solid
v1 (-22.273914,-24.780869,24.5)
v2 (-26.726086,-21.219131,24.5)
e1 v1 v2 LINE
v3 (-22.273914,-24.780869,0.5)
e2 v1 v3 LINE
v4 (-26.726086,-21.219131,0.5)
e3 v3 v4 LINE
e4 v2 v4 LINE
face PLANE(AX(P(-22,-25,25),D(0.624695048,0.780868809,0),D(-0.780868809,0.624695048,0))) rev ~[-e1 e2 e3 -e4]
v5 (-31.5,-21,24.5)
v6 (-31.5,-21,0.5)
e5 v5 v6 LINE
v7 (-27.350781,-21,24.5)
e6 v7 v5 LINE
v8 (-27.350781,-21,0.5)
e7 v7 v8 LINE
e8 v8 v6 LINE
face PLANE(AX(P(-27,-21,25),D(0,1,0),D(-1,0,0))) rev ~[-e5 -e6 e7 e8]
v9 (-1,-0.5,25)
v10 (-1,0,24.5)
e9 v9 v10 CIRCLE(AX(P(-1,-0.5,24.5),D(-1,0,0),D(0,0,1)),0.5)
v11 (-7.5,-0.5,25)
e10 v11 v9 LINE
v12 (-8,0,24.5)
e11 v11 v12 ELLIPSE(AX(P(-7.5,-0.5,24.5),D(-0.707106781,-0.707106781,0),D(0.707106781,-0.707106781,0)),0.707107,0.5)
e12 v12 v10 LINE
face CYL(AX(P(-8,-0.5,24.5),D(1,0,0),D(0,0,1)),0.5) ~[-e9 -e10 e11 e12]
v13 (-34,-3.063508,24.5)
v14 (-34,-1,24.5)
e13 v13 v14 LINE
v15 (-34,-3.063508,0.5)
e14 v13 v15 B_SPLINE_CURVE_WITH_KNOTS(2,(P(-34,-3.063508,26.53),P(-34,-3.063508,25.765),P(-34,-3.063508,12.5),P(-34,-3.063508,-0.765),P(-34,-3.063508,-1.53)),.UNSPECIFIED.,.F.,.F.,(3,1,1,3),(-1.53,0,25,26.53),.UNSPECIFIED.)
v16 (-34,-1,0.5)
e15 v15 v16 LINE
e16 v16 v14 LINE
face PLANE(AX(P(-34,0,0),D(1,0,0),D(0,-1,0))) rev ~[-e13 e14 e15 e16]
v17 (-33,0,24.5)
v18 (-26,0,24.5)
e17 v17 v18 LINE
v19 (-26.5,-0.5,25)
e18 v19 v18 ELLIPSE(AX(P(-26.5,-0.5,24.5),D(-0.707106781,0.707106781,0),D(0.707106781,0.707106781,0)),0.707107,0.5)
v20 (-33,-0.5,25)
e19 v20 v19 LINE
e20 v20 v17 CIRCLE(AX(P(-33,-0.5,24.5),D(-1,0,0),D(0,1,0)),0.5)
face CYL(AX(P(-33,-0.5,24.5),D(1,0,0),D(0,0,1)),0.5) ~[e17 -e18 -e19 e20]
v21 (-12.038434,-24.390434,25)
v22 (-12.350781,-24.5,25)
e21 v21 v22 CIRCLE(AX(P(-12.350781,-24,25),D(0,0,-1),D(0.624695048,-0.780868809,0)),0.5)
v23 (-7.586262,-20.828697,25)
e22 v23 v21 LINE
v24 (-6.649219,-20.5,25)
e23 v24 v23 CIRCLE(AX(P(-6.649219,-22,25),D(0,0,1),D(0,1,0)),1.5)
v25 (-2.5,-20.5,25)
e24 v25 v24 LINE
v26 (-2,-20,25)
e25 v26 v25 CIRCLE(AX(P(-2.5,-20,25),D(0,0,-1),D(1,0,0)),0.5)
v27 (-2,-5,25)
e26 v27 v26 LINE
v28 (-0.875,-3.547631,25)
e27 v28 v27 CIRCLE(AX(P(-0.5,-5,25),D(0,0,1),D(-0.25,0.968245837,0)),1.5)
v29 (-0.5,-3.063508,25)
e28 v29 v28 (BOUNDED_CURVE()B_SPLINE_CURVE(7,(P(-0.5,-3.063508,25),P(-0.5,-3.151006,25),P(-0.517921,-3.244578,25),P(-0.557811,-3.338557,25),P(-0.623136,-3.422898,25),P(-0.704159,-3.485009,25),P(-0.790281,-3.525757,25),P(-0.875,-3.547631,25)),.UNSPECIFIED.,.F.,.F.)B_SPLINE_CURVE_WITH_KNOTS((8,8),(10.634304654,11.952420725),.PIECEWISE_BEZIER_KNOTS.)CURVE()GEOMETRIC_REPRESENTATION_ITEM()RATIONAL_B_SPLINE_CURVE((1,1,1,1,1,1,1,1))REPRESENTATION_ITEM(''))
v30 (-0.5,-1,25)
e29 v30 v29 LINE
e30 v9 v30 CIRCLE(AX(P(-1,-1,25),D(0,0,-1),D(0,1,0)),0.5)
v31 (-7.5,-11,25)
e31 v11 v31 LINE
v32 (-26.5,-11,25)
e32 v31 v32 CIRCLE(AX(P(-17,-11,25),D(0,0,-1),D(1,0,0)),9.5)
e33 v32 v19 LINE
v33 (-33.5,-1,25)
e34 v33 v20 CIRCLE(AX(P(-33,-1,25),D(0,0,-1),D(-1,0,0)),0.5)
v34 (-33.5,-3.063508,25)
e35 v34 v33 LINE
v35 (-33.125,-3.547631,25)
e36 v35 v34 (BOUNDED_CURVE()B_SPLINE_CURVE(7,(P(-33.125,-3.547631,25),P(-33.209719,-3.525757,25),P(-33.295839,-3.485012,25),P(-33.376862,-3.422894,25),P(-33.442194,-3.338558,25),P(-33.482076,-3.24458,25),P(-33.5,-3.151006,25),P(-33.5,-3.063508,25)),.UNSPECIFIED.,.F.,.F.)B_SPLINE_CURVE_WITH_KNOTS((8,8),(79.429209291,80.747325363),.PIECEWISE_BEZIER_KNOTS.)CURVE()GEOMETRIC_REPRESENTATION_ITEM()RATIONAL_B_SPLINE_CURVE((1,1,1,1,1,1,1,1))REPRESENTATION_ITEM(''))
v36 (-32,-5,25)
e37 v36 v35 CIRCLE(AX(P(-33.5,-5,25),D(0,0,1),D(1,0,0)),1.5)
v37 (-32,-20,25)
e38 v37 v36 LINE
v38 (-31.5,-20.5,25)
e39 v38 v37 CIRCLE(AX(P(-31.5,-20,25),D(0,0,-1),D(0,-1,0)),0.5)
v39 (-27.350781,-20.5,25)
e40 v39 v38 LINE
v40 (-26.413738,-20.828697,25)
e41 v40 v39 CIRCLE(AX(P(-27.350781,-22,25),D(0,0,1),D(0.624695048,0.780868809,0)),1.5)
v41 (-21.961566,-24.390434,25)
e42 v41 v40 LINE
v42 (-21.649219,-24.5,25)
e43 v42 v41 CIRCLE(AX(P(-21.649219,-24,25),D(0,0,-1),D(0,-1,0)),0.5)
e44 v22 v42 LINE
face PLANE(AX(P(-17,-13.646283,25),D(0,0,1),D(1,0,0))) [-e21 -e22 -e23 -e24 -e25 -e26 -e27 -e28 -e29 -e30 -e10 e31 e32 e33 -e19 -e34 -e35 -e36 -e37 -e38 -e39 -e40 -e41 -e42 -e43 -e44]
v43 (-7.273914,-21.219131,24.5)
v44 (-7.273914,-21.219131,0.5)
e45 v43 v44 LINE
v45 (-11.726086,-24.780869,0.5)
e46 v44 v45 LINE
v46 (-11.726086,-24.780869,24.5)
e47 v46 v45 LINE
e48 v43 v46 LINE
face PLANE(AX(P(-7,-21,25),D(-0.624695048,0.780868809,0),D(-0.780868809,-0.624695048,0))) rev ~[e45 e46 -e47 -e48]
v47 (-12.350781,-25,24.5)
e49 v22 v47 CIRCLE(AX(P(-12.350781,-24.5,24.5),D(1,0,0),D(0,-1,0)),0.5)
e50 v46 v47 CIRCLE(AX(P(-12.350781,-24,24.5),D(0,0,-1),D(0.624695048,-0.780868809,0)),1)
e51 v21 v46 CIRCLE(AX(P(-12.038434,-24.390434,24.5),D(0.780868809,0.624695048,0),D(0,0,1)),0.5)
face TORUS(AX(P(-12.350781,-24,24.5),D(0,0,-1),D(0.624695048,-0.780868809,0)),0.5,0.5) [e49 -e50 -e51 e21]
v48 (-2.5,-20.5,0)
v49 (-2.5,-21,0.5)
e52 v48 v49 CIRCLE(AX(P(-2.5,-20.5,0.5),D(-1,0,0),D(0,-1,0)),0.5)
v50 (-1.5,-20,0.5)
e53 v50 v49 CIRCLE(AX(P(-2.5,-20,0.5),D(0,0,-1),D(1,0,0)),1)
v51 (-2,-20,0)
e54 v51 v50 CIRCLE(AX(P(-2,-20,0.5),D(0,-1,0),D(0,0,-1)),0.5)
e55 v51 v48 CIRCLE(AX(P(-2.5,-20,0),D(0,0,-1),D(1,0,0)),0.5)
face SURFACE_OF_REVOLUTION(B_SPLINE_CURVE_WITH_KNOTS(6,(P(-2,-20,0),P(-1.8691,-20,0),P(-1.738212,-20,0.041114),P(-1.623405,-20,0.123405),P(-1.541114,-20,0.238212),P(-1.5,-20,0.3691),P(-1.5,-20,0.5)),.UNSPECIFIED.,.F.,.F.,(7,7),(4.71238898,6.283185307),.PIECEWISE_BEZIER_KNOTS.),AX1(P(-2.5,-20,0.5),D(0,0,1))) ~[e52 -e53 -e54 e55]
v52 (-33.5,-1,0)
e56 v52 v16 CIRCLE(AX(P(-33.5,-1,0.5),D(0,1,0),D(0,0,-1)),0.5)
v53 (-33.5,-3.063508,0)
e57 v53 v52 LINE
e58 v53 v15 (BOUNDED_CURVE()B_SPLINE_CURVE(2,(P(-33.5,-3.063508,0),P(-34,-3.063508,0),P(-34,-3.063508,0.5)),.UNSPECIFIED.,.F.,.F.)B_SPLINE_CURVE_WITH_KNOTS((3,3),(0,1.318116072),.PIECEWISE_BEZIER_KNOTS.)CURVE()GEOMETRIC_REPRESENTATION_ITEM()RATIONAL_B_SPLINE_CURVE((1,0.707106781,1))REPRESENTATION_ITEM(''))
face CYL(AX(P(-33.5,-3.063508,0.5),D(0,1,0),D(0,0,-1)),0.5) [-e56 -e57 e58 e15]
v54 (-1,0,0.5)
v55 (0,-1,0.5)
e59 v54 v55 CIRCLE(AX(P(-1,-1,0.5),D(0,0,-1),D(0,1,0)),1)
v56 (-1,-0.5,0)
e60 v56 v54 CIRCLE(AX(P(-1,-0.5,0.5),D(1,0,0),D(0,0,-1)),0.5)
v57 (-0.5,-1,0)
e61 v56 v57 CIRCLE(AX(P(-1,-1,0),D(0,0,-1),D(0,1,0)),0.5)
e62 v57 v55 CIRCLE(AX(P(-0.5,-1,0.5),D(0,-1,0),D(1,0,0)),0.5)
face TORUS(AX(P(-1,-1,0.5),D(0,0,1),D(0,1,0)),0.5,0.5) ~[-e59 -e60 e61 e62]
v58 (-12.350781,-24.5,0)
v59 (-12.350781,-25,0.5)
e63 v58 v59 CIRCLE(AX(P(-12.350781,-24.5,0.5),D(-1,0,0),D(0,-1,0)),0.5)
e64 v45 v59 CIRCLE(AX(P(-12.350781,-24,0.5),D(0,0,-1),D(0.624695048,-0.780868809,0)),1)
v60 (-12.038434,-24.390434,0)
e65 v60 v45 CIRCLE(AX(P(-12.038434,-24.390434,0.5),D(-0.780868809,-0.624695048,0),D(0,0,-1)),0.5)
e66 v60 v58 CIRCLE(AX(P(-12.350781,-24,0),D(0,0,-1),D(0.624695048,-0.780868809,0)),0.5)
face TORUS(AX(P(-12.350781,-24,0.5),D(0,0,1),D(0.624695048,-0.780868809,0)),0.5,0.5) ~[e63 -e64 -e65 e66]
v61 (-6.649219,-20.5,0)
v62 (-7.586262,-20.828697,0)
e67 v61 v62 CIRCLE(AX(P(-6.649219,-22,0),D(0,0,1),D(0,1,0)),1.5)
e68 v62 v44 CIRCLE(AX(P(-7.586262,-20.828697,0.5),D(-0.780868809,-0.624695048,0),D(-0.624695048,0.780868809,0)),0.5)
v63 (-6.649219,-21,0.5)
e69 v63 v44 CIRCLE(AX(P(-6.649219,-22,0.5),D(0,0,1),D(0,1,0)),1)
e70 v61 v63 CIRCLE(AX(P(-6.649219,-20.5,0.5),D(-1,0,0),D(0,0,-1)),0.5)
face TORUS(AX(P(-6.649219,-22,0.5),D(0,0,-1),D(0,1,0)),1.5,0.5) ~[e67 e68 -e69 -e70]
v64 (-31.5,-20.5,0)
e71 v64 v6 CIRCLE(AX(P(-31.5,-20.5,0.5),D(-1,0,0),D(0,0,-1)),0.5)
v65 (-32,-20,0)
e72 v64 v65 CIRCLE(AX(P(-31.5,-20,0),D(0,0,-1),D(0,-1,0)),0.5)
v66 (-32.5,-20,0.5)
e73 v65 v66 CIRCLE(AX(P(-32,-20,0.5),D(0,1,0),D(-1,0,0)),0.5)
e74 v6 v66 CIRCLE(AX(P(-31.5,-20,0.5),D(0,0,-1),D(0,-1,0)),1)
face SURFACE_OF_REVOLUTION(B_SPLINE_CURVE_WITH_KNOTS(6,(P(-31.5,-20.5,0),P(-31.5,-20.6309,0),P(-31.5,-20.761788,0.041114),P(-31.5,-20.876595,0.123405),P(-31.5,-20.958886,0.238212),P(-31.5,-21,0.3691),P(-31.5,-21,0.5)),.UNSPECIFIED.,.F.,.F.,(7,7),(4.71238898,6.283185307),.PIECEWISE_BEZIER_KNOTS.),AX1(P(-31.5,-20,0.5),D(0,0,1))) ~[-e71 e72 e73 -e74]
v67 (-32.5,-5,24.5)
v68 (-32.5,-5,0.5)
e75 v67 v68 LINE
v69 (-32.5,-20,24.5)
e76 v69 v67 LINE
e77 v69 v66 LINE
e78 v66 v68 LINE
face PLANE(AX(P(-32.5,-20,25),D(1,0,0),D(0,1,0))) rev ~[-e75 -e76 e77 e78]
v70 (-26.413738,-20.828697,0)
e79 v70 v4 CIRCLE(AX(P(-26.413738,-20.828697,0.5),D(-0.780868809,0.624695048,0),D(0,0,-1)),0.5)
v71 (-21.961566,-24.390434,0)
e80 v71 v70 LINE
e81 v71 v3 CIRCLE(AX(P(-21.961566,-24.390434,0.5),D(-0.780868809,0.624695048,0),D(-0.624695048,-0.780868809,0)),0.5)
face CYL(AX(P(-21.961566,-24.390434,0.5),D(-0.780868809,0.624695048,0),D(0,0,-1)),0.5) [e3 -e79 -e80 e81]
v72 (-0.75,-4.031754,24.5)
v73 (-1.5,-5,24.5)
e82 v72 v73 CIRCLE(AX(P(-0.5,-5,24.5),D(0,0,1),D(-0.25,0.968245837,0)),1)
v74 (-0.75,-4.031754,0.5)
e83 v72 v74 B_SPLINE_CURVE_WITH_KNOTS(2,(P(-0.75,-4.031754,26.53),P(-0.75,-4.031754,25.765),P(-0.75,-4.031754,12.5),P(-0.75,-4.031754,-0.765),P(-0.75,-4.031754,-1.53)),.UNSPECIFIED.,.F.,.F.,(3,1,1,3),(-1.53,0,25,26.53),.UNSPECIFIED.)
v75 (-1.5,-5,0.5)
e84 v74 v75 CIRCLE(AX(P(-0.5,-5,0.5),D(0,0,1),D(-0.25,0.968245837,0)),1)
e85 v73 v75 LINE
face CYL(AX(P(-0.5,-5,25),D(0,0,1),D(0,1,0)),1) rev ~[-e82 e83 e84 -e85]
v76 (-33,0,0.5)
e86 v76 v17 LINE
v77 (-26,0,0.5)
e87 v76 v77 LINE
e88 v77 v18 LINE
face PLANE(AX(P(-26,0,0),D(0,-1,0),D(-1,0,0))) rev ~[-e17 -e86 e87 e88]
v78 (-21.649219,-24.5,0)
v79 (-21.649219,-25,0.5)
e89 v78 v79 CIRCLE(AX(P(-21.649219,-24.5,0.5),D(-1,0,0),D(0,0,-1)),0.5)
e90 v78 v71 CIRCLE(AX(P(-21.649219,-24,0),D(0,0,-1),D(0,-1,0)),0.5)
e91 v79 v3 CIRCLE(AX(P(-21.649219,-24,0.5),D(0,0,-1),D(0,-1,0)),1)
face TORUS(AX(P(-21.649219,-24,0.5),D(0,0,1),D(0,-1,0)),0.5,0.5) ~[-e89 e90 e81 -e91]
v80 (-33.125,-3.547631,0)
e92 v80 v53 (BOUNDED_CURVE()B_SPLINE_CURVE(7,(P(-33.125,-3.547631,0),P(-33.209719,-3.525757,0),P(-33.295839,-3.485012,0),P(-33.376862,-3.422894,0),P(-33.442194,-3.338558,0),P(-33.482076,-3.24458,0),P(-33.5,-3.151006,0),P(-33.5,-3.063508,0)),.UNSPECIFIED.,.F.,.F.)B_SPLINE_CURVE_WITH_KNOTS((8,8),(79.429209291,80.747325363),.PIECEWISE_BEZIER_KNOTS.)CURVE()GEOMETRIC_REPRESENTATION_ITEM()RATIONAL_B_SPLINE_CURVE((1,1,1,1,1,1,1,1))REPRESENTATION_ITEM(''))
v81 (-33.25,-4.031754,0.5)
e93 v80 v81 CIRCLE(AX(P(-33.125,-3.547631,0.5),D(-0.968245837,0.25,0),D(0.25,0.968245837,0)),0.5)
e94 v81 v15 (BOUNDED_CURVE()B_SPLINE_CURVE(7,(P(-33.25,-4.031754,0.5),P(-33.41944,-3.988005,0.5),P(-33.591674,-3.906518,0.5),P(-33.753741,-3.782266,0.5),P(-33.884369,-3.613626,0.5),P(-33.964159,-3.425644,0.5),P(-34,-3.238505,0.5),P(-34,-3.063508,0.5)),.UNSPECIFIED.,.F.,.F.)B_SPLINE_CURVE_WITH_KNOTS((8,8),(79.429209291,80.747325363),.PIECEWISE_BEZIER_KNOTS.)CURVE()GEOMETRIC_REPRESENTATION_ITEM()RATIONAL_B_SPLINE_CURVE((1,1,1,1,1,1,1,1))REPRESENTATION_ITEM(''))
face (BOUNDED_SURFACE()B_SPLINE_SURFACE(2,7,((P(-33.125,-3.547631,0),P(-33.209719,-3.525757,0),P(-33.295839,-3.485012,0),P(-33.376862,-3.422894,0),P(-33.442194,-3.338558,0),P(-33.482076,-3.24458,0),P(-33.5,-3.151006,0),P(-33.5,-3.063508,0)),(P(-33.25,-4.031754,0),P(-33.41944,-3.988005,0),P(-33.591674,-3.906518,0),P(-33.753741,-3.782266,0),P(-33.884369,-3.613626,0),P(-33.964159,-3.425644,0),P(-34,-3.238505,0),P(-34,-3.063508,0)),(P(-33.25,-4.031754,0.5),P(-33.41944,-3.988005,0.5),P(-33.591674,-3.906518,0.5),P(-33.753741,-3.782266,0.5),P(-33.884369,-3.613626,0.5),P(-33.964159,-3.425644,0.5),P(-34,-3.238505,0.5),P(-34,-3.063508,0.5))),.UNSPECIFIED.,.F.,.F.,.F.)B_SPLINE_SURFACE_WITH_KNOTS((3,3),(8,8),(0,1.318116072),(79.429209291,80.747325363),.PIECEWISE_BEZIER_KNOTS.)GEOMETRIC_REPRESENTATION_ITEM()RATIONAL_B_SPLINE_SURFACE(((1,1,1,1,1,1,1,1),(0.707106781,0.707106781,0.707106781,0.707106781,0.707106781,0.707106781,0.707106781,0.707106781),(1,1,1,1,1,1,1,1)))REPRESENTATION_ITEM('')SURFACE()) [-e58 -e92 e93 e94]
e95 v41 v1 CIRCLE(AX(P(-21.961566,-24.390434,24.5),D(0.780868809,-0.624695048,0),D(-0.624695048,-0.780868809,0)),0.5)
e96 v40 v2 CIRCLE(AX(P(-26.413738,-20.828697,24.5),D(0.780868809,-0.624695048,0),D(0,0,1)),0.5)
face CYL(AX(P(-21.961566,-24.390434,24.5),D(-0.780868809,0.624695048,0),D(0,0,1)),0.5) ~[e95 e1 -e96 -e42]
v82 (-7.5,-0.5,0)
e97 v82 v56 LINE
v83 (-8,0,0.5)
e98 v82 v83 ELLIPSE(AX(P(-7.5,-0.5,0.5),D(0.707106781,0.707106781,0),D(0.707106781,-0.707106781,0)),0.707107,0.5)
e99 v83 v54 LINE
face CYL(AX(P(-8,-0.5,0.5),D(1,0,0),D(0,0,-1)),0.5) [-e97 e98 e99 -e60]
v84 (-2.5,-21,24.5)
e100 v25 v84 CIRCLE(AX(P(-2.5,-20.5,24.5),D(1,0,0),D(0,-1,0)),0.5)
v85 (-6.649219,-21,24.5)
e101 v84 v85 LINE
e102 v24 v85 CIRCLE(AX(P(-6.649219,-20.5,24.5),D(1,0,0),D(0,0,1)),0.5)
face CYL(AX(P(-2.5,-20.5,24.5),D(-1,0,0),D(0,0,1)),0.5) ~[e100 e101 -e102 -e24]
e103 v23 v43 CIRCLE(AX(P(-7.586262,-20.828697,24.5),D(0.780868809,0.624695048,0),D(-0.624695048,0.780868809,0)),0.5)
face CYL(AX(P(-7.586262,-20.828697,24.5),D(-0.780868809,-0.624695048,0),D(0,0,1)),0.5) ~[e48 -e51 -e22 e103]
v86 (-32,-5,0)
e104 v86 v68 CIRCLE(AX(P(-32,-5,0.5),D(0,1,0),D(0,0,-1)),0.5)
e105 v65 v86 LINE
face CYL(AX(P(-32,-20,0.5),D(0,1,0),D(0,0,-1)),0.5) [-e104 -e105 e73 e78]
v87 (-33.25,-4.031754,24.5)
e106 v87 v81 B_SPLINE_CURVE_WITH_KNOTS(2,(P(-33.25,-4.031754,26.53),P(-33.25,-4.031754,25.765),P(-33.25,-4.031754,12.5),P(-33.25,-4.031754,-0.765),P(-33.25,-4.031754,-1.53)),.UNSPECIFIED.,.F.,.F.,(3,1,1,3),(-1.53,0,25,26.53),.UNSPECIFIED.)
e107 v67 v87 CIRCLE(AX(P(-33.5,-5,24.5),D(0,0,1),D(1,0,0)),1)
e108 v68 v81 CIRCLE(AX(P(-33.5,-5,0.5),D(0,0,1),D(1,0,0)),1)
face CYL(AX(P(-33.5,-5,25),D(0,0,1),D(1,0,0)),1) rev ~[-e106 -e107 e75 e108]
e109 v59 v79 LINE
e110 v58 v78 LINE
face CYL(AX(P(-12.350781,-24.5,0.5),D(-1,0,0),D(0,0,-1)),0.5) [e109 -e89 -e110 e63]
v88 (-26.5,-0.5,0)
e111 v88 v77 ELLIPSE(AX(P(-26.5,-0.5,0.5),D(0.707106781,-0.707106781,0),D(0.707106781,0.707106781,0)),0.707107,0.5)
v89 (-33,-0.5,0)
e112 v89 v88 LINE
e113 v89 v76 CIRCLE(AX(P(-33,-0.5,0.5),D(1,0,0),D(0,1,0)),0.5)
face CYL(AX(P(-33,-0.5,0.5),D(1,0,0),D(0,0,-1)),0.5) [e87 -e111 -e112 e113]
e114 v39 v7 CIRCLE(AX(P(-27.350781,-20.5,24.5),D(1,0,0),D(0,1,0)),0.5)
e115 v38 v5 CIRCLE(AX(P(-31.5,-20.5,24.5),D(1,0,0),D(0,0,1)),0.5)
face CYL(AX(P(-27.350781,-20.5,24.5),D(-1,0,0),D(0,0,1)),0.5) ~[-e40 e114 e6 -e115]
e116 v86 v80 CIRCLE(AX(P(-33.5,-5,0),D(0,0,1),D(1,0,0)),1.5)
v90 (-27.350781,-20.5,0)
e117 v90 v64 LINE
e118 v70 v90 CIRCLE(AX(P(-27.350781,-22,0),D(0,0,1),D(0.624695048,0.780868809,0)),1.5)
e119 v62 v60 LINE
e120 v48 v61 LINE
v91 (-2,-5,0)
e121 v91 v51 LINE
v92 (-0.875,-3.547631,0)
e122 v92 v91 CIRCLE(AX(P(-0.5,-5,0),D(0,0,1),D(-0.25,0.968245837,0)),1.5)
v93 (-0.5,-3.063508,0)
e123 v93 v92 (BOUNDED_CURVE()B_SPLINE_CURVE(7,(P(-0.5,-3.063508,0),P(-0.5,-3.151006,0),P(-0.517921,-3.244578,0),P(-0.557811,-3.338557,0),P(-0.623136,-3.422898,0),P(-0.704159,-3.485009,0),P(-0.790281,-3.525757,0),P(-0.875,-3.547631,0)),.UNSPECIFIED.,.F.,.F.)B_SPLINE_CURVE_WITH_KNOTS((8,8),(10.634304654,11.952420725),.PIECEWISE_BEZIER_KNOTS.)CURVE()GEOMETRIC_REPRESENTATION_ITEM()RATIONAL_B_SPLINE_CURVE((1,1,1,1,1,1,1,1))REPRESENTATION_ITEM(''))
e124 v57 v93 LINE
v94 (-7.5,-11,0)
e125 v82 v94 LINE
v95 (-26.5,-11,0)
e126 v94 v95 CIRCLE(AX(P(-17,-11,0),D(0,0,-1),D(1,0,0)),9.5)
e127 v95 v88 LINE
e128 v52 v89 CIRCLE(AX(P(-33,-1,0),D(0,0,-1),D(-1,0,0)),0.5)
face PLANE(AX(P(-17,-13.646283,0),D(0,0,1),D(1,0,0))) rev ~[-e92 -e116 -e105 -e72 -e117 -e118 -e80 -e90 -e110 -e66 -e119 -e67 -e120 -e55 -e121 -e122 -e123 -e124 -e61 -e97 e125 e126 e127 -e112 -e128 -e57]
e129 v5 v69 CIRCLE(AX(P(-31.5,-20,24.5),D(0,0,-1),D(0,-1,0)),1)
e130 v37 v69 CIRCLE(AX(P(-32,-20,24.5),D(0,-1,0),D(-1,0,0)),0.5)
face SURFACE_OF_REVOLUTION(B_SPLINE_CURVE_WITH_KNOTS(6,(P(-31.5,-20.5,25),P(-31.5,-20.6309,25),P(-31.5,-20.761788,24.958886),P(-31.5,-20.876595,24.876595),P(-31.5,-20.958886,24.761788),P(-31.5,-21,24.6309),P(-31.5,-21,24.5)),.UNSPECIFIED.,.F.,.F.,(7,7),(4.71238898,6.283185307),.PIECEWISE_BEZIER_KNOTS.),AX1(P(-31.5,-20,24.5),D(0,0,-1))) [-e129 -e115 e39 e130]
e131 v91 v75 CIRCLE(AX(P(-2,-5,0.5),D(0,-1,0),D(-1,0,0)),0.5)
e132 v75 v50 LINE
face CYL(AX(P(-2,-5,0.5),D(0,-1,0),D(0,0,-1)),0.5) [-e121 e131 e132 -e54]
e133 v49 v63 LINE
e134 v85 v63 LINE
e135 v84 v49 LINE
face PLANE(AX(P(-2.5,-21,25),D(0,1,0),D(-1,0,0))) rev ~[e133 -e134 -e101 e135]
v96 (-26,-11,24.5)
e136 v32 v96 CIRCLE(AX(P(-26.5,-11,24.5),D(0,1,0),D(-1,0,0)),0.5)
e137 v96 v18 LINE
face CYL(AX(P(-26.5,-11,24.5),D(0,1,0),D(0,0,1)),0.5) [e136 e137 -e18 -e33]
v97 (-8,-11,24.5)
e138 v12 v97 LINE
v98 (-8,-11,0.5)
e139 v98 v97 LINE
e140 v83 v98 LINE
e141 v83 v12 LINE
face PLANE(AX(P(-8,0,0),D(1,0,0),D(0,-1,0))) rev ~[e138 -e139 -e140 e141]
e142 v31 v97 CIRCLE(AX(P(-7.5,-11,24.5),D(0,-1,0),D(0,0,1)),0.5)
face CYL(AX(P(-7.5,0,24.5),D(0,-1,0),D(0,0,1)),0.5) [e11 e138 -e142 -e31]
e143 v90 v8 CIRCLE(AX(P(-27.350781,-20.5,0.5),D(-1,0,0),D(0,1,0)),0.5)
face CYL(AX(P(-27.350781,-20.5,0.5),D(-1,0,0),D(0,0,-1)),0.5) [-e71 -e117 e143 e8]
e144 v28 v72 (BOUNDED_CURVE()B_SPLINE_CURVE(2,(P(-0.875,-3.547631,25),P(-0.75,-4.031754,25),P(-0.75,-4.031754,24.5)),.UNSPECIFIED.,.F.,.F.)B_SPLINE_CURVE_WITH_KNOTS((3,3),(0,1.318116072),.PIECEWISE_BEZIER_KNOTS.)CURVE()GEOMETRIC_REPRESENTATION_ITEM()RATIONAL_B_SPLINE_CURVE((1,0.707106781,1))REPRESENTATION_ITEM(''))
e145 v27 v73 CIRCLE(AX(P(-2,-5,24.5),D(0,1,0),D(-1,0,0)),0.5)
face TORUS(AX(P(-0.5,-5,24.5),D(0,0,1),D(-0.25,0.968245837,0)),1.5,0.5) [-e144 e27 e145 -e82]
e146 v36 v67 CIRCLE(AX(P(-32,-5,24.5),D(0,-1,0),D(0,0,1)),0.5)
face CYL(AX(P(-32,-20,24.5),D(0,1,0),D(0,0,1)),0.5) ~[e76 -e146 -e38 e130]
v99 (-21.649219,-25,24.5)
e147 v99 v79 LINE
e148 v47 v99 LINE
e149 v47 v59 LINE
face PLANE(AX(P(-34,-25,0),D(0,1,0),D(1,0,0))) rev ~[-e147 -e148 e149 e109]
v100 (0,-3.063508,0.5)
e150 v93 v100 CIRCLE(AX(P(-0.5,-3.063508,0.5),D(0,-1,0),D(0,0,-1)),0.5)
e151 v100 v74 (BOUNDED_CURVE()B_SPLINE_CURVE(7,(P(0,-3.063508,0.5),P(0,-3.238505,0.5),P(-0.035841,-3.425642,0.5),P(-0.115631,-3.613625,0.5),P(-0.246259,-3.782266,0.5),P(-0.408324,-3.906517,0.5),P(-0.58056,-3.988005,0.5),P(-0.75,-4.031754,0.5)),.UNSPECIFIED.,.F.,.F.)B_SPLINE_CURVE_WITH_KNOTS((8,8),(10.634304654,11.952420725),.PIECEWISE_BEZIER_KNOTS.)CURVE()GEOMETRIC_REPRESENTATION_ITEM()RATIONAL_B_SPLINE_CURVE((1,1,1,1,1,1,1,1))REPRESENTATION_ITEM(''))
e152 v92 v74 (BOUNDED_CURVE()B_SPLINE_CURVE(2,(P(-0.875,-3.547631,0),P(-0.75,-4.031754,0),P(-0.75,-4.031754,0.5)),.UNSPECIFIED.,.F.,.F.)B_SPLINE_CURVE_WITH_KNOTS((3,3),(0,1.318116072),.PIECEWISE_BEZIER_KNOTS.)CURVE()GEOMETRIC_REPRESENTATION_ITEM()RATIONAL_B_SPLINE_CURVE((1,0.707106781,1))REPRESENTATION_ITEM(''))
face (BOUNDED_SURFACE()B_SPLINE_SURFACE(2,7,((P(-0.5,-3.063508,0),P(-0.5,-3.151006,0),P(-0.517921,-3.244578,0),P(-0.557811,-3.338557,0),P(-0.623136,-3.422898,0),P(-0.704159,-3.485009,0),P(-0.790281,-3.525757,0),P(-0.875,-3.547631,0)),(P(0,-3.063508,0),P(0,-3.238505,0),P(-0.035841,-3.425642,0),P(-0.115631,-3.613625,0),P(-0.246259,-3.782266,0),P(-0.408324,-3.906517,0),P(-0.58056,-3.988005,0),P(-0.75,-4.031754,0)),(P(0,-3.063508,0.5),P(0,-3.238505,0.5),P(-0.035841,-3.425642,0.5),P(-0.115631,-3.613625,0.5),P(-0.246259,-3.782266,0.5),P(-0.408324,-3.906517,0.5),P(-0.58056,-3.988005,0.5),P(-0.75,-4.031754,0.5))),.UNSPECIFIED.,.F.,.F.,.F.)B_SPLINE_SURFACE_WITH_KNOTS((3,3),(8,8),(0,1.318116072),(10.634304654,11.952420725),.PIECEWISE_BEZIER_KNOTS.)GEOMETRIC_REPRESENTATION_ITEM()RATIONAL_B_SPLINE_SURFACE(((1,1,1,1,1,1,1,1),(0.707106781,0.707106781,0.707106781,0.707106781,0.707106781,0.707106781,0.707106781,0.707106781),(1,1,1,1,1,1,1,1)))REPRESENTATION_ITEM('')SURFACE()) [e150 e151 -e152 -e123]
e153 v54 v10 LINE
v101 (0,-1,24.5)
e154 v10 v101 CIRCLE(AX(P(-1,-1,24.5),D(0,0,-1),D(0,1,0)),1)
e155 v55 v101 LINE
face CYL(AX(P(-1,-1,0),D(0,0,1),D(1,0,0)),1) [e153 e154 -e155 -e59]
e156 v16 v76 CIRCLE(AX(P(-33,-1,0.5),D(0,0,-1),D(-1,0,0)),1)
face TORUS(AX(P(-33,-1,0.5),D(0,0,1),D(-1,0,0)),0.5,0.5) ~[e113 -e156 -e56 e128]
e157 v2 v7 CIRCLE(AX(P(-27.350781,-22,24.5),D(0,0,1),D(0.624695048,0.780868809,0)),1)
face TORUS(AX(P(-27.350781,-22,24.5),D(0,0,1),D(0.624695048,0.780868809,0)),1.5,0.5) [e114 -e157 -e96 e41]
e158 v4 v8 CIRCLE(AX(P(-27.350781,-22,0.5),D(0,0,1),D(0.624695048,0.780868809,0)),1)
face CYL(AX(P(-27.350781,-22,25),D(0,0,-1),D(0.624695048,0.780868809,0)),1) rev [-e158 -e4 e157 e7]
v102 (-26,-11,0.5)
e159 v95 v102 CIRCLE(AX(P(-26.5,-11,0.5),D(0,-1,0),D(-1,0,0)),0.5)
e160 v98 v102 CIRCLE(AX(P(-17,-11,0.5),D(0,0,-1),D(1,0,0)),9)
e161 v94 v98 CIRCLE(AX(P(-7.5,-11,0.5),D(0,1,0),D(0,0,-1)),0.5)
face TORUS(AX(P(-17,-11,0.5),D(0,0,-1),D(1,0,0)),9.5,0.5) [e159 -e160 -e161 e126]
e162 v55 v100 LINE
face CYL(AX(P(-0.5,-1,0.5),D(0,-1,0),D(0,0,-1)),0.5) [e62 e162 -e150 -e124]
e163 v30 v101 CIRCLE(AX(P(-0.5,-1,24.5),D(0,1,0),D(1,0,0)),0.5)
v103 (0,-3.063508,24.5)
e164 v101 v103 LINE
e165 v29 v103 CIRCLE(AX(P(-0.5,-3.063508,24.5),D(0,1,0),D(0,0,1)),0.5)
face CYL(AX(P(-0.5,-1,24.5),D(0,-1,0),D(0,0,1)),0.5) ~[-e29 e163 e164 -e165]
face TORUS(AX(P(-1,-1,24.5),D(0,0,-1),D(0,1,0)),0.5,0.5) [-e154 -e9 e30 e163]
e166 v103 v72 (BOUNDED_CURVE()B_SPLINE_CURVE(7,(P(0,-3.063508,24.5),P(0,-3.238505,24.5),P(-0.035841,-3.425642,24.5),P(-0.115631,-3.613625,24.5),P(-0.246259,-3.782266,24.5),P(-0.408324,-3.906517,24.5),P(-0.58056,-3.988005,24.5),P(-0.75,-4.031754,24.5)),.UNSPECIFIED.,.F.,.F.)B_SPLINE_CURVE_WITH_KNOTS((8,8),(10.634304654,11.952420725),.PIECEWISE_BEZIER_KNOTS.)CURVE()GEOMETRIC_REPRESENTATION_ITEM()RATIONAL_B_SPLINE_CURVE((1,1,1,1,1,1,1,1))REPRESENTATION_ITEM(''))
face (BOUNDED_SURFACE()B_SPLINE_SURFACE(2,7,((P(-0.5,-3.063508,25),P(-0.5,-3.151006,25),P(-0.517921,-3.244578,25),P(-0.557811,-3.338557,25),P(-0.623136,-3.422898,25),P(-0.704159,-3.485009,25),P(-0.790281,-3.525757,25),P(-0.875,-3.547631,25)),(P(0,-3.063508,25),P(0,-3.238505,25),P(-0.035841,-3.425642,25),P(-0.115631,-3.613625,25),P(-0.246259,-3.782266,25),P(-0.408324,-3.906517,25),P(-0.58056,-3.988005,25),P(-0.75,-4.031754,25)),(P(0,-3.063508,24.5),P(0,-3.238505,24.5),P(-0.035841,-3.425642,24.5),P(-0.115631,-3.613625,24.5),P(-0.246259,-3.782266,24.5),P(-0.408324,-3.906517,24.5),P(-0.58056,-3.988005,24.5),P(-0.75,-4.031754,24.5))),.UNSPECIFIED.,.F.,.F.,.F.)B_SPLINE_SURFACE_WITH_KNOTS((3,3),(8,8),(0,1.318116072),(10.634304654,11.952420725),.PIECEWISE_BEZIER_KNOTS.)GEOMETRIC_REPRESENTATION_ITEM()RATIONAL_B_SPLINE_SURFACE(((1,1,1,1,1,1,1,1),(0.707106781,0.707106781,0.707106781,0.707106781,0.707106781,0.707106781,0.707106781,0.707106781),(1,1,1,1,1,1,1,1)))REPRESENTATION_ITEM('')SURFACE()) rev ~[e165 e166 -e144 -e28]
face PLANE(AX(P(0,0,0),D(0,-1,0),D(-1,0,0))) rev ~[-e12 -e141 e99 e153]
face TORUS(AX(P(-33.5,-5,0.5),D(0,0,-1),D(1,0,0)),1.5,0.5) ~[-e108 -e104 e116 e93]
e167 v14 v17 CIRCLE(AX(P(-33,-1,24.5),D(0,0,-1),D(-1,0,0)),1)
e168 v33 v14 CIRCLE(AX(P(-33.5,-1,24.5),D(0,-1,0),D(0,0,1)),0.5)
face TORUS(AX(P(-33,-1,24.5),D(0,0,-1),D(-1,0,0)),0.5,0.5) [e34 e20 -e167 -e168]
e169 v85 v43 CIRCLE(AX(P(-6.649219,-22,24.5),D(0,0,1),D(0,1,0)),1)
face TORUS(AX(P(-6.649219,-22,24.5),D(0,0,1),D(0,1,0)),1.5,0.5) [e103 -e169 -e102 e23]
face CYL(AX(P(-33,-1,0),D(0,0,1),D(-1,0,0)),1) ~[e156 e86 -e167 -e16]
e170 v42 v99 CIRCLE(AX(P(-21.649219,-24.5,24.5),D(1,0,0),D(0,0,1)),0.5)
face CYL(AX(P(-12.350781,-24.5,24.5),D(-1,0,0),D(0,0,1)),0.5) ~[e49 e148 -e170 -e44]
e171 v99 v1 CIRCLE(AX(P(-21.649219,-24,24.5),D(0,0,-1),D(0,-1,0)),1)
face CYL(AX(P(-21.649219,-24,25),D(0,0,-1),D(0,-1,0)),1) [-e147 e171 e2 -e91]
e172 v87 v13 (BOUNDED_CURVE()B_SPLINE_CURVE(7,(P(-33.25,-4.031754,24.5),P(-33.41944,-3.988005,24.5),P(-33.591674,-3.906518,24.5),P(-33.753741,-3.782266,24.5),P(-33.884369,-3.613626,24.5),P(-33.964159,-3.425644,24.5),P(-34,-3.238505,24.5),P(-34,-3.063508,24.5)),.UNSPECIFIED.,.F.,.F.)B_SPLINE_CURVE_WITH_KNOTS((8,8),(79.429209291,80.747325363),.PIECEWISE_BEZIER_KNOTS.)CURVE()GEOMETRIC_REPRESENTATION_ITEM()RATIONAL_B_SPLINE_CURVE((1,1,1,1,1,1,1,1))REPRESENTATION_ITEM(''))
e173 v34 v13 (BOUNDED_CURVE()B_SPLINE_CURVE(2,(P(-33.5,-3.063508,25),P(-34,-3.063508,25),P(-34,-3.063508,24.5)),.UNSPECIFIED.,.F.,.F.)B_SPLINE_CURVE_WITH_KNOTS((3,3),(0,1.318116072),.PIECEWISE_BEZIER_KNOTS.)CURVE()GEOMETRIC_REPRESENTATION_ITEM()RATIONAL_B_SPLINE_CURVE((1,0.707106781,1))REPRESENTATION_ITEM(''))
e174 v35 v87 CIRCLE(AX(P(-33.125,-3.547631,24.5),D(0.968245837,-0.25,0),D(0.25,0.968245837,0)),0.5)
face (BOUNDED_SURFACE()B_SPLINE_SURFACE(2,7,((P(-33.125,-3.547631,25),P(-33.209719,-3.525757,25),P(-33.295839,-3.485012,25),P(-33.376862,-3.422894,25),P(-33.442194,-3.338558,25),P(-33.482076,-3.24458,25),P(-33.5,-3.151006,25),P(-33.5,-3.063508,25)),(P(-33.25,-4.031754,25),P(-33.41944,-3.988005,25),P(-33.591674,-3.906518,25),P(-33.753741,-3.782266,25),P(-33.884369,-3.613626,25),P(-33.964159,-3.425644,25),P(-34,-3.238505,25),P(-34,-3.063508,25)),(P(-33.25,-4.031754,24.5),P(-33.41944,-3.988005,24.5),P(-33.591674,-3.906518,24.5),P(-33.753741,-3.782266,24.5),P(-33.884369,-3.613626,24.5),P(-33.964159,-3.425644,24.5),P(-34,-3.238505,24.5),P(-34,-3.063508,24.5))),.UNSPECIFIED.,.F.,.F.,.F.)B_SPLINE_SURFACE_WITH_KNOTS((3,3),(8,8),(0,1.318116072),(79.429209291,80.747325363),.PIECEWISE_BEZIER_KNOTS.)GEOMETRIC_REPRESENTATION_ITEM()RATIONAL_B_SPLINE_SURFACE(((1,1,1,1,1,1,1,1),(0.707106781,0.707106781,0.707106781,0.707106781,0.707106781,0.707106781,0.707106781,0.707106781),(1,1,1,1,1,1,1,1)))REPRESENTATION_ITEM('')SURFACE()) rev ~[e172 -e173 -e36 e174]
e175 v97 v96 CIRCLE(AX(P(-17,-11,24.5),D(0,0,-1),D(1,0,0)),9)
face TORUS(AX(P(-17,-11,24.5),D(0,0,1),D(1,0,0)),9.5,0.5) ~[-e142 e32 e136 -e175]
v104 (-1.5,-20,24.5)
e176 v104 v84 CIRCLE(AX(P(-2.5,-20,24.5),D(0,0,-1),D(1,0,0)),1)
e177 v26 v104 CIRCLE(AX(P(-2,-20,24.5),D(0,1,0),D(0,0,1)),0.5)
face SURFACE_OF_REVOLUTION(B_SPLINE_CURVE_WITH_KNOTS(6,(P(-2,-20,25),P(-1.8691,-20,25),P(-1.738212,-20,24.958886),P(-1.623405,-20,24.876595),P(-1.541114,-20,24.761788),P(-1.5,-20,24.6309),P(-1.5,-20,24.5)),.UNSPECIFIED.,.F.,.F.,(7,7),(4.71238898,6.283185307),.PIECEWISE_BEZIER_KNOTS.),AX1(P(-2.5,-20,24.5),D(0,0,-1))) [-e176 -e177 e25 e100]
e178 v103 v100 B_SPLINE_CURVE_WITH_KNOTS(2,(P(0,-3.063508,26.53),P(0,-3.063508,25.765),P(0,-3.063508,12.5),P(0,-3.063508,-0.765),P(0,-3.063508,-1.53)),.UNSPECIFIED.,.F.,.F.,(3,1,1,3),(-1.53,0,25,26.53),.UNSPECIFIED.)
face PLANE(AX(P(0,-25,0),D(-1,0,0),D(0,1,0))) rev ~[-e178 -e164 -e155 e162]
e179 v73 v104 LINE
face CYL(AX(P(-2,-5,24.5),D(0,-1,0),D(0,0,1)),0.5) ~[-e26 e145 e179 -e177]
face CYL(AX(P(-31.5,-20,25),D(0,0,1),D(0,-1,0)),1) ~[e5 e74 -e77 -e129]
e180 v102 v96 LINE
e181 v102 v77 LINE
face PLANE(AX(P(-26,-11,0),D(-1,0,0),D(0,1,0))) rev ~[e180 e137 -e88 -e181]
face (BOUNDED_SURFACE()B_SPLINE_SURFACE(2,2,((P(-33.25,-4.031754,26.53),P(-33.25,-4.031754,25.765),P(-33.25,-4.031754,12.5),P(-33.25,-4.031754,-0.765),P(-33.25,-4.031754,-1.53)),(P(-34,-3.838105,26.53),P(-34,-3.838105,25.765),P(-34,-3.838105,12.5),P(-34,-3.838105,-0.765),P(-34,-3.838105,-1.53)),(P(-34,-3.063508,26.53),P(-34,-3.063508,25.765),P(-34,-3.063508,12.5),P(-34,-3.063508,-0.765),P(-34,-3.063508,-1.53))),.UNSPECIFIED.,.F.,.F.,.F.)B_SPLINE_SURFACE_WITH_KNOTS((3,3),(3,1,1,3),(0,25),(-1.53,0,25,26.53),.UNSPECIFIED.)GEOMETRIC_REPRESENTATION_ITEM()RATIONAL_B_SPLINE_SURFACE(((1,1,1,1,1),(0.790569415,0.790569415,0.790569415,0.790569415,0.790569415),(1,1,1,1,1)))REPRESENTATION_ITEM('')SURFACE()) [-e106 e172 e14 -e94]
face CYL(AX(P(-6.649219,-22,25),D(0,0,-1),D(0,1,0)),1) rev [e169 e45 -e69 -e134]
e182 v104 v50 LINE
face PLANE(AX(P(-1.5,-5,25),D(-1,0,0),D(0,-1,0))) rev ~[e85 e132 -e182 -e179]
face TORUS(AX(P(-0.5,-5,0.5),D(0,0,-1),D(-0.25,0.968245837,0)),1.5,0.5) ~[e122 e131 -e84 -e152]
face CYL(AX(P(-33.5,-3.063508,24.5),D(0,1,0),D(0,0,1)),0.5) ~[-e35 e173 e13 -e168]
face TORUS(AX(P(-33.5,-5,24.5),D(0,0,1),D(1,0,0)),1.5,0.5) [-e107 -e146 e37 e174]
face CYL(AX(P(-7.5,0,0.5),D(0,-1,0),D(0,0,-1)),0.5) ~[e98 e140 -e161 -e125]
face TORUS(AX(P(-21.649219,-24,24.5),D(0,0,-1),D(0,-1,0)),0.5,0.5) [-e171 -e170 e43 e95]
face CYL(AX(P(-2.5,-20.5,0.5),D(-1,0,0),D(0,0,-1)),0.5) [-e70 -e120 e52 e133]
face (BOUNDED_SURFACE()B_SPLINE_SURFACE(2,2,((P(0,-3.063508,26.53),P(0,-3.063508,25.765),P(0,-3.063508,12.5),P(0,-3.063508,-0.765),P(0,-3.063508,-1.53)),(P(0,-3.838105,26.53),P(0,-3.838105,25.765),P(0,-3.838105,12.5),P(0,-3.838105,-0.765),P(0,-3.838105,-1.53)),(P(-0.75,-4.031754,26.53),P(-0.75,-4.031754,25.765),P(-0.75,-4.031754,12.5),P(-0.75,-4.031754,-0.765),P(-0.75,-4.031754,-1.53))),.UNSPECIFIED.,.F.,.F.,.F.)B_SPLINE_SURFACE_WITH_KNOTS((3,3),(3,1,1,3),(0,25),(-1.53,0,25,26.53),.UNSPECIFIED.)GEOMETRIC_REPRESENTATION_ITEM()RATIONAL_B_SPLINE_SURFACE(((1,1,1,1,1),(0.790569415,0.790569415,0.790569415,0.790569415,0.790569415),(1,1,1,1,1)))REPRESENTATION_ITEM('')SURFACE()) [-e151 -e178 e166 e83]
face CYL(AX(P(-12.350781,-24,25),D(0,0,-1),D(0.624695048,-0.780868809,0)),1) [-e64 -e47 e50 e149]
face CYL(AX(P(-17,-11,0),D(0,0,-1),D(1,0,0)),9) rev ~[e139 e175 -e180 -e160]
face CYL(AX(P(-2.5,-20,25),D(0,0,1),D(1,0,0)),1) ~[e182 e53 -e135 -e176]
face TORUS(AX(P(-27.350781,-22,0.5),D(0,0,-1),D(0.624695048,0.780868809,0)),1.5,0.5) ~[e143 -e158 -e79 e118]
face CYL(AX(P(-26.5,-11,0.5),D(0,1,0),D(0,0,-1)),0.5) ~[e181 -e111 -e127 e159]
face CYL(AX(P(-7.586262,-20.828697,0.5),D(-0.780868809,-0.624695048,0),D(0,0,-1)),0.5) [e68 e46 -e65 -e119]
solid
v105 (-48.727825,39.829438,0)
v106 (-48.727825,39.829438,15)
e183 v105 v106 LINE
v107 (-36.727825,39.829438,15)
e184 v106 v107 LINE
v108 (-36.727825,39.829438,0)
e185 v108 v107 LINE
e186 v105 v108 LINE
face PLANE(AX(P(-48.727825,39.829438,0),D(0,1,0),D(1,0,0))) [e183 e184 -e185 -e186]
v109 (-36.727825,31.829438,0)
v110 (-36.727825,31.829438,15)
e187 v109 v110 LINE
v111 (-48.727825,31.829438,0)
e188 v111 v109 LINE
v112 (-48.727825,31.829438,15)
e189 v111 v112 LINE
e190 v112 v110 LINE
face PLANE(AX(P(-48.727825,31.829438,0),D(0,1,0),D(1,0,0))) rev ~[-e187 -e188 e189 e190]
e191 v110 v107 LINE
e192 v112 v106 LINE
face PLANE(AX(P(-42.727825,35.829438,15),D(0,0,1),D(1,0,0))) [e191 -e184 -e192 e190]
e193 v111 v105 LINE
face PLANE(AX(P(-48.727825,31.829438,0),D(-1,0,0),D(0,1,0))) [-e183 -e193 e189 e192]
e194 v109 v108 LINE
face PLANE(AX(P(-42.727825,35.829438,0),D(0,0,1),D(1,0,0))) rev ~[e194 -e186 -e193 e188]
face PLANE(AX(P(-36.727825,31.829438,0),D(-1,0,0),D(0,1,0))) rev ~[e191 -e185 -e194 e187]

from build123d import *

# Parameters (mm, degrees)
F0_W     = 12
F0_H     = 8
F1_DEPTH = 15
F3_DEPTH = 25
F5_DEPTH = 25.001
F6_R     = 1
F7_R     = 0.5


with BuildPart() as f1:
    # F0 (on Top) → F1 (new body)
    with BuildSketch(Plane.XY):
        with Locations((-42.7278246284, 35.8294376655)):
            Rectangle(F0_W, F0_H)
    extrude(amount=F1_DEPTH)


with BuildPart() as f3:
    # F2 (on Top) → F3 (new body)
    with BuildSketch(Plane.XY):
        with BuildLine():
            Line((0, -25), (0, 0))
            Line((0, 0), (-8, 0))
            Line((-8, 0), (-8, -11))
            ThreePointArc((-8, -11), (-17, -20), (-26, -11))
            Line((-26, -11), (-26, 0))
            Line((-26, 0), (-34, 0))
            Line((-34, 0), (-34, -25))
            Line((-34, -25), (0, -25))
        make_face()
    extrude(amount=F3_DEPTH)

    # F4 (on face) → F5 (cut, through all)
    with BuildSketch(Plane.XY.offset(25)):
        with BuildLine():
            Line((-27, -21), (-31.5, -21))
            ThreePointArc((-31.5, -21), (-32.2071067812, -20.7071067812), (-32.5, -20))
            Line((-32.5, -20), (-32.5, -5))
            ThreePointArc((-32.5, -5), (-32.7928932188, -4.2928932188), (-33.5, -4))
            Line((-33.5, -4), (-34, -4))
            Line((-34, -4), (-34, -25))
            Line((-34, -25), (-22, -25))
            Line((-22, -25), (-27, -21))
        make_face()
        with BuildLine():
            Line((-7, -21), (-12, -25))
            Line((-12, -25), (0, -25))
            Line((0, -25), (0, -4))
            Line((0, -4), (-0.5, -4))
            ThreePointArc((-0.5, -4), (-1.2071067812, -4.2928932188), (-1.5, -5))
            Line((-1.5, -5), (-1.5, -20))
            ThreePointArc((-1.5, -20), (-1.7928932188, -20.7071067812), (-2.5, -21))
            Line((-2.5, -21), (-7, -21))
        make_face()
    extrude(amount=-F5_DEPTH, mode=Mode.SUBTRACT)

    # F6
    f6_edges = [f3.edges().sort_by_distance(p)[0] for p in [
        (-34, -4, 12.5),
        (0, -4, 12.5),
        (-12, -25, 12.5),
        (-7, -21, 12.5),
        (-27, -21, 12.5),
        (-22, -25, 12.5),
        (0, 0, 12.5),
        (-34, 0, 12.5),
    ]]
    fillet(f6_edges, radius=F6_R)

    # F7
    f7_edges = [f3.edges().sort_by_distance(p)[0] for p in [
        (-1.290569, -4.387628, 25),
        (-0.209431, -3.675881, 25),
        (-1.5, -12.5, 25),
        (0, -2.031754, 25),
        (-1.792893, -20.707107, 25),
        (-0.292893, -0.292893, 25),
        (-4.574609, -21, 25),
        (-4.5, 0, 25),
        (-6.980226, -21.056372, 25),
        (-8, -5.5, 25),
        (-9.5, -23, 25),
        (-17, -20, 25),
        (-12.019774, -24.943628, 25),
        (-26, -5.5, 25),
        (-17, -25, 25),
        (-29.5, 0, 25),
        (-21.980226, -24.943628, 25),
        (-33.707107, -0.292893, 25),
        (-24.5, -23, 25),
        (-34, -2.031754, 25),
        (-27.019774, -21.056372, 25),
        (-33.790569, -3.675881, 25),
        (-29.425391, -21, 25),
        (-32.709431, -4.387628, 25),
        (-32.207107, -20.707107, 25),
        (-32.5, -12.5, 25),
        (-1.290569, -4.387628, 0),
        (-0.209431, -3.675881, 0),
        (-1.5, -12.5, 0),
        (0, -2.031754, 0),
        (-1.792893, -20.707107, 0),
        (-0.292893, -0.292893, 0),
        (-4.574609, -21, 0),
        (-4.5, 0, 0),
        (-6.980226, -21.056372, 0),
        (-8, -5.5, 0),
        (-9.5, -23, 0),
        (-17, -20, 0),
        (-12.019774, -24.943628, 0),
        (-26, -5.5, 0),
        (-17, -25, 0),
        (-29.5, 0, 0),
        (-21.980226, -24.943628, 0),
        (-33.707107, -0.292893, 0),
        (-24.5, -23, 0),
        (-34, -2.031754, 0),
        (-27.019774, -21.056372, 0),
        (-33.790569, -3.675881, 0),
        (-29.425391, -21, 0),
        (-32.709431, -4.387628, 0),
        (-32.207107, -20.707107, 0),
        (-32.5, -12.5, 0),
    ]]
    fillet(f7_edges, radius=F7_R)


solid = Compound([f1.part, f3.part])
